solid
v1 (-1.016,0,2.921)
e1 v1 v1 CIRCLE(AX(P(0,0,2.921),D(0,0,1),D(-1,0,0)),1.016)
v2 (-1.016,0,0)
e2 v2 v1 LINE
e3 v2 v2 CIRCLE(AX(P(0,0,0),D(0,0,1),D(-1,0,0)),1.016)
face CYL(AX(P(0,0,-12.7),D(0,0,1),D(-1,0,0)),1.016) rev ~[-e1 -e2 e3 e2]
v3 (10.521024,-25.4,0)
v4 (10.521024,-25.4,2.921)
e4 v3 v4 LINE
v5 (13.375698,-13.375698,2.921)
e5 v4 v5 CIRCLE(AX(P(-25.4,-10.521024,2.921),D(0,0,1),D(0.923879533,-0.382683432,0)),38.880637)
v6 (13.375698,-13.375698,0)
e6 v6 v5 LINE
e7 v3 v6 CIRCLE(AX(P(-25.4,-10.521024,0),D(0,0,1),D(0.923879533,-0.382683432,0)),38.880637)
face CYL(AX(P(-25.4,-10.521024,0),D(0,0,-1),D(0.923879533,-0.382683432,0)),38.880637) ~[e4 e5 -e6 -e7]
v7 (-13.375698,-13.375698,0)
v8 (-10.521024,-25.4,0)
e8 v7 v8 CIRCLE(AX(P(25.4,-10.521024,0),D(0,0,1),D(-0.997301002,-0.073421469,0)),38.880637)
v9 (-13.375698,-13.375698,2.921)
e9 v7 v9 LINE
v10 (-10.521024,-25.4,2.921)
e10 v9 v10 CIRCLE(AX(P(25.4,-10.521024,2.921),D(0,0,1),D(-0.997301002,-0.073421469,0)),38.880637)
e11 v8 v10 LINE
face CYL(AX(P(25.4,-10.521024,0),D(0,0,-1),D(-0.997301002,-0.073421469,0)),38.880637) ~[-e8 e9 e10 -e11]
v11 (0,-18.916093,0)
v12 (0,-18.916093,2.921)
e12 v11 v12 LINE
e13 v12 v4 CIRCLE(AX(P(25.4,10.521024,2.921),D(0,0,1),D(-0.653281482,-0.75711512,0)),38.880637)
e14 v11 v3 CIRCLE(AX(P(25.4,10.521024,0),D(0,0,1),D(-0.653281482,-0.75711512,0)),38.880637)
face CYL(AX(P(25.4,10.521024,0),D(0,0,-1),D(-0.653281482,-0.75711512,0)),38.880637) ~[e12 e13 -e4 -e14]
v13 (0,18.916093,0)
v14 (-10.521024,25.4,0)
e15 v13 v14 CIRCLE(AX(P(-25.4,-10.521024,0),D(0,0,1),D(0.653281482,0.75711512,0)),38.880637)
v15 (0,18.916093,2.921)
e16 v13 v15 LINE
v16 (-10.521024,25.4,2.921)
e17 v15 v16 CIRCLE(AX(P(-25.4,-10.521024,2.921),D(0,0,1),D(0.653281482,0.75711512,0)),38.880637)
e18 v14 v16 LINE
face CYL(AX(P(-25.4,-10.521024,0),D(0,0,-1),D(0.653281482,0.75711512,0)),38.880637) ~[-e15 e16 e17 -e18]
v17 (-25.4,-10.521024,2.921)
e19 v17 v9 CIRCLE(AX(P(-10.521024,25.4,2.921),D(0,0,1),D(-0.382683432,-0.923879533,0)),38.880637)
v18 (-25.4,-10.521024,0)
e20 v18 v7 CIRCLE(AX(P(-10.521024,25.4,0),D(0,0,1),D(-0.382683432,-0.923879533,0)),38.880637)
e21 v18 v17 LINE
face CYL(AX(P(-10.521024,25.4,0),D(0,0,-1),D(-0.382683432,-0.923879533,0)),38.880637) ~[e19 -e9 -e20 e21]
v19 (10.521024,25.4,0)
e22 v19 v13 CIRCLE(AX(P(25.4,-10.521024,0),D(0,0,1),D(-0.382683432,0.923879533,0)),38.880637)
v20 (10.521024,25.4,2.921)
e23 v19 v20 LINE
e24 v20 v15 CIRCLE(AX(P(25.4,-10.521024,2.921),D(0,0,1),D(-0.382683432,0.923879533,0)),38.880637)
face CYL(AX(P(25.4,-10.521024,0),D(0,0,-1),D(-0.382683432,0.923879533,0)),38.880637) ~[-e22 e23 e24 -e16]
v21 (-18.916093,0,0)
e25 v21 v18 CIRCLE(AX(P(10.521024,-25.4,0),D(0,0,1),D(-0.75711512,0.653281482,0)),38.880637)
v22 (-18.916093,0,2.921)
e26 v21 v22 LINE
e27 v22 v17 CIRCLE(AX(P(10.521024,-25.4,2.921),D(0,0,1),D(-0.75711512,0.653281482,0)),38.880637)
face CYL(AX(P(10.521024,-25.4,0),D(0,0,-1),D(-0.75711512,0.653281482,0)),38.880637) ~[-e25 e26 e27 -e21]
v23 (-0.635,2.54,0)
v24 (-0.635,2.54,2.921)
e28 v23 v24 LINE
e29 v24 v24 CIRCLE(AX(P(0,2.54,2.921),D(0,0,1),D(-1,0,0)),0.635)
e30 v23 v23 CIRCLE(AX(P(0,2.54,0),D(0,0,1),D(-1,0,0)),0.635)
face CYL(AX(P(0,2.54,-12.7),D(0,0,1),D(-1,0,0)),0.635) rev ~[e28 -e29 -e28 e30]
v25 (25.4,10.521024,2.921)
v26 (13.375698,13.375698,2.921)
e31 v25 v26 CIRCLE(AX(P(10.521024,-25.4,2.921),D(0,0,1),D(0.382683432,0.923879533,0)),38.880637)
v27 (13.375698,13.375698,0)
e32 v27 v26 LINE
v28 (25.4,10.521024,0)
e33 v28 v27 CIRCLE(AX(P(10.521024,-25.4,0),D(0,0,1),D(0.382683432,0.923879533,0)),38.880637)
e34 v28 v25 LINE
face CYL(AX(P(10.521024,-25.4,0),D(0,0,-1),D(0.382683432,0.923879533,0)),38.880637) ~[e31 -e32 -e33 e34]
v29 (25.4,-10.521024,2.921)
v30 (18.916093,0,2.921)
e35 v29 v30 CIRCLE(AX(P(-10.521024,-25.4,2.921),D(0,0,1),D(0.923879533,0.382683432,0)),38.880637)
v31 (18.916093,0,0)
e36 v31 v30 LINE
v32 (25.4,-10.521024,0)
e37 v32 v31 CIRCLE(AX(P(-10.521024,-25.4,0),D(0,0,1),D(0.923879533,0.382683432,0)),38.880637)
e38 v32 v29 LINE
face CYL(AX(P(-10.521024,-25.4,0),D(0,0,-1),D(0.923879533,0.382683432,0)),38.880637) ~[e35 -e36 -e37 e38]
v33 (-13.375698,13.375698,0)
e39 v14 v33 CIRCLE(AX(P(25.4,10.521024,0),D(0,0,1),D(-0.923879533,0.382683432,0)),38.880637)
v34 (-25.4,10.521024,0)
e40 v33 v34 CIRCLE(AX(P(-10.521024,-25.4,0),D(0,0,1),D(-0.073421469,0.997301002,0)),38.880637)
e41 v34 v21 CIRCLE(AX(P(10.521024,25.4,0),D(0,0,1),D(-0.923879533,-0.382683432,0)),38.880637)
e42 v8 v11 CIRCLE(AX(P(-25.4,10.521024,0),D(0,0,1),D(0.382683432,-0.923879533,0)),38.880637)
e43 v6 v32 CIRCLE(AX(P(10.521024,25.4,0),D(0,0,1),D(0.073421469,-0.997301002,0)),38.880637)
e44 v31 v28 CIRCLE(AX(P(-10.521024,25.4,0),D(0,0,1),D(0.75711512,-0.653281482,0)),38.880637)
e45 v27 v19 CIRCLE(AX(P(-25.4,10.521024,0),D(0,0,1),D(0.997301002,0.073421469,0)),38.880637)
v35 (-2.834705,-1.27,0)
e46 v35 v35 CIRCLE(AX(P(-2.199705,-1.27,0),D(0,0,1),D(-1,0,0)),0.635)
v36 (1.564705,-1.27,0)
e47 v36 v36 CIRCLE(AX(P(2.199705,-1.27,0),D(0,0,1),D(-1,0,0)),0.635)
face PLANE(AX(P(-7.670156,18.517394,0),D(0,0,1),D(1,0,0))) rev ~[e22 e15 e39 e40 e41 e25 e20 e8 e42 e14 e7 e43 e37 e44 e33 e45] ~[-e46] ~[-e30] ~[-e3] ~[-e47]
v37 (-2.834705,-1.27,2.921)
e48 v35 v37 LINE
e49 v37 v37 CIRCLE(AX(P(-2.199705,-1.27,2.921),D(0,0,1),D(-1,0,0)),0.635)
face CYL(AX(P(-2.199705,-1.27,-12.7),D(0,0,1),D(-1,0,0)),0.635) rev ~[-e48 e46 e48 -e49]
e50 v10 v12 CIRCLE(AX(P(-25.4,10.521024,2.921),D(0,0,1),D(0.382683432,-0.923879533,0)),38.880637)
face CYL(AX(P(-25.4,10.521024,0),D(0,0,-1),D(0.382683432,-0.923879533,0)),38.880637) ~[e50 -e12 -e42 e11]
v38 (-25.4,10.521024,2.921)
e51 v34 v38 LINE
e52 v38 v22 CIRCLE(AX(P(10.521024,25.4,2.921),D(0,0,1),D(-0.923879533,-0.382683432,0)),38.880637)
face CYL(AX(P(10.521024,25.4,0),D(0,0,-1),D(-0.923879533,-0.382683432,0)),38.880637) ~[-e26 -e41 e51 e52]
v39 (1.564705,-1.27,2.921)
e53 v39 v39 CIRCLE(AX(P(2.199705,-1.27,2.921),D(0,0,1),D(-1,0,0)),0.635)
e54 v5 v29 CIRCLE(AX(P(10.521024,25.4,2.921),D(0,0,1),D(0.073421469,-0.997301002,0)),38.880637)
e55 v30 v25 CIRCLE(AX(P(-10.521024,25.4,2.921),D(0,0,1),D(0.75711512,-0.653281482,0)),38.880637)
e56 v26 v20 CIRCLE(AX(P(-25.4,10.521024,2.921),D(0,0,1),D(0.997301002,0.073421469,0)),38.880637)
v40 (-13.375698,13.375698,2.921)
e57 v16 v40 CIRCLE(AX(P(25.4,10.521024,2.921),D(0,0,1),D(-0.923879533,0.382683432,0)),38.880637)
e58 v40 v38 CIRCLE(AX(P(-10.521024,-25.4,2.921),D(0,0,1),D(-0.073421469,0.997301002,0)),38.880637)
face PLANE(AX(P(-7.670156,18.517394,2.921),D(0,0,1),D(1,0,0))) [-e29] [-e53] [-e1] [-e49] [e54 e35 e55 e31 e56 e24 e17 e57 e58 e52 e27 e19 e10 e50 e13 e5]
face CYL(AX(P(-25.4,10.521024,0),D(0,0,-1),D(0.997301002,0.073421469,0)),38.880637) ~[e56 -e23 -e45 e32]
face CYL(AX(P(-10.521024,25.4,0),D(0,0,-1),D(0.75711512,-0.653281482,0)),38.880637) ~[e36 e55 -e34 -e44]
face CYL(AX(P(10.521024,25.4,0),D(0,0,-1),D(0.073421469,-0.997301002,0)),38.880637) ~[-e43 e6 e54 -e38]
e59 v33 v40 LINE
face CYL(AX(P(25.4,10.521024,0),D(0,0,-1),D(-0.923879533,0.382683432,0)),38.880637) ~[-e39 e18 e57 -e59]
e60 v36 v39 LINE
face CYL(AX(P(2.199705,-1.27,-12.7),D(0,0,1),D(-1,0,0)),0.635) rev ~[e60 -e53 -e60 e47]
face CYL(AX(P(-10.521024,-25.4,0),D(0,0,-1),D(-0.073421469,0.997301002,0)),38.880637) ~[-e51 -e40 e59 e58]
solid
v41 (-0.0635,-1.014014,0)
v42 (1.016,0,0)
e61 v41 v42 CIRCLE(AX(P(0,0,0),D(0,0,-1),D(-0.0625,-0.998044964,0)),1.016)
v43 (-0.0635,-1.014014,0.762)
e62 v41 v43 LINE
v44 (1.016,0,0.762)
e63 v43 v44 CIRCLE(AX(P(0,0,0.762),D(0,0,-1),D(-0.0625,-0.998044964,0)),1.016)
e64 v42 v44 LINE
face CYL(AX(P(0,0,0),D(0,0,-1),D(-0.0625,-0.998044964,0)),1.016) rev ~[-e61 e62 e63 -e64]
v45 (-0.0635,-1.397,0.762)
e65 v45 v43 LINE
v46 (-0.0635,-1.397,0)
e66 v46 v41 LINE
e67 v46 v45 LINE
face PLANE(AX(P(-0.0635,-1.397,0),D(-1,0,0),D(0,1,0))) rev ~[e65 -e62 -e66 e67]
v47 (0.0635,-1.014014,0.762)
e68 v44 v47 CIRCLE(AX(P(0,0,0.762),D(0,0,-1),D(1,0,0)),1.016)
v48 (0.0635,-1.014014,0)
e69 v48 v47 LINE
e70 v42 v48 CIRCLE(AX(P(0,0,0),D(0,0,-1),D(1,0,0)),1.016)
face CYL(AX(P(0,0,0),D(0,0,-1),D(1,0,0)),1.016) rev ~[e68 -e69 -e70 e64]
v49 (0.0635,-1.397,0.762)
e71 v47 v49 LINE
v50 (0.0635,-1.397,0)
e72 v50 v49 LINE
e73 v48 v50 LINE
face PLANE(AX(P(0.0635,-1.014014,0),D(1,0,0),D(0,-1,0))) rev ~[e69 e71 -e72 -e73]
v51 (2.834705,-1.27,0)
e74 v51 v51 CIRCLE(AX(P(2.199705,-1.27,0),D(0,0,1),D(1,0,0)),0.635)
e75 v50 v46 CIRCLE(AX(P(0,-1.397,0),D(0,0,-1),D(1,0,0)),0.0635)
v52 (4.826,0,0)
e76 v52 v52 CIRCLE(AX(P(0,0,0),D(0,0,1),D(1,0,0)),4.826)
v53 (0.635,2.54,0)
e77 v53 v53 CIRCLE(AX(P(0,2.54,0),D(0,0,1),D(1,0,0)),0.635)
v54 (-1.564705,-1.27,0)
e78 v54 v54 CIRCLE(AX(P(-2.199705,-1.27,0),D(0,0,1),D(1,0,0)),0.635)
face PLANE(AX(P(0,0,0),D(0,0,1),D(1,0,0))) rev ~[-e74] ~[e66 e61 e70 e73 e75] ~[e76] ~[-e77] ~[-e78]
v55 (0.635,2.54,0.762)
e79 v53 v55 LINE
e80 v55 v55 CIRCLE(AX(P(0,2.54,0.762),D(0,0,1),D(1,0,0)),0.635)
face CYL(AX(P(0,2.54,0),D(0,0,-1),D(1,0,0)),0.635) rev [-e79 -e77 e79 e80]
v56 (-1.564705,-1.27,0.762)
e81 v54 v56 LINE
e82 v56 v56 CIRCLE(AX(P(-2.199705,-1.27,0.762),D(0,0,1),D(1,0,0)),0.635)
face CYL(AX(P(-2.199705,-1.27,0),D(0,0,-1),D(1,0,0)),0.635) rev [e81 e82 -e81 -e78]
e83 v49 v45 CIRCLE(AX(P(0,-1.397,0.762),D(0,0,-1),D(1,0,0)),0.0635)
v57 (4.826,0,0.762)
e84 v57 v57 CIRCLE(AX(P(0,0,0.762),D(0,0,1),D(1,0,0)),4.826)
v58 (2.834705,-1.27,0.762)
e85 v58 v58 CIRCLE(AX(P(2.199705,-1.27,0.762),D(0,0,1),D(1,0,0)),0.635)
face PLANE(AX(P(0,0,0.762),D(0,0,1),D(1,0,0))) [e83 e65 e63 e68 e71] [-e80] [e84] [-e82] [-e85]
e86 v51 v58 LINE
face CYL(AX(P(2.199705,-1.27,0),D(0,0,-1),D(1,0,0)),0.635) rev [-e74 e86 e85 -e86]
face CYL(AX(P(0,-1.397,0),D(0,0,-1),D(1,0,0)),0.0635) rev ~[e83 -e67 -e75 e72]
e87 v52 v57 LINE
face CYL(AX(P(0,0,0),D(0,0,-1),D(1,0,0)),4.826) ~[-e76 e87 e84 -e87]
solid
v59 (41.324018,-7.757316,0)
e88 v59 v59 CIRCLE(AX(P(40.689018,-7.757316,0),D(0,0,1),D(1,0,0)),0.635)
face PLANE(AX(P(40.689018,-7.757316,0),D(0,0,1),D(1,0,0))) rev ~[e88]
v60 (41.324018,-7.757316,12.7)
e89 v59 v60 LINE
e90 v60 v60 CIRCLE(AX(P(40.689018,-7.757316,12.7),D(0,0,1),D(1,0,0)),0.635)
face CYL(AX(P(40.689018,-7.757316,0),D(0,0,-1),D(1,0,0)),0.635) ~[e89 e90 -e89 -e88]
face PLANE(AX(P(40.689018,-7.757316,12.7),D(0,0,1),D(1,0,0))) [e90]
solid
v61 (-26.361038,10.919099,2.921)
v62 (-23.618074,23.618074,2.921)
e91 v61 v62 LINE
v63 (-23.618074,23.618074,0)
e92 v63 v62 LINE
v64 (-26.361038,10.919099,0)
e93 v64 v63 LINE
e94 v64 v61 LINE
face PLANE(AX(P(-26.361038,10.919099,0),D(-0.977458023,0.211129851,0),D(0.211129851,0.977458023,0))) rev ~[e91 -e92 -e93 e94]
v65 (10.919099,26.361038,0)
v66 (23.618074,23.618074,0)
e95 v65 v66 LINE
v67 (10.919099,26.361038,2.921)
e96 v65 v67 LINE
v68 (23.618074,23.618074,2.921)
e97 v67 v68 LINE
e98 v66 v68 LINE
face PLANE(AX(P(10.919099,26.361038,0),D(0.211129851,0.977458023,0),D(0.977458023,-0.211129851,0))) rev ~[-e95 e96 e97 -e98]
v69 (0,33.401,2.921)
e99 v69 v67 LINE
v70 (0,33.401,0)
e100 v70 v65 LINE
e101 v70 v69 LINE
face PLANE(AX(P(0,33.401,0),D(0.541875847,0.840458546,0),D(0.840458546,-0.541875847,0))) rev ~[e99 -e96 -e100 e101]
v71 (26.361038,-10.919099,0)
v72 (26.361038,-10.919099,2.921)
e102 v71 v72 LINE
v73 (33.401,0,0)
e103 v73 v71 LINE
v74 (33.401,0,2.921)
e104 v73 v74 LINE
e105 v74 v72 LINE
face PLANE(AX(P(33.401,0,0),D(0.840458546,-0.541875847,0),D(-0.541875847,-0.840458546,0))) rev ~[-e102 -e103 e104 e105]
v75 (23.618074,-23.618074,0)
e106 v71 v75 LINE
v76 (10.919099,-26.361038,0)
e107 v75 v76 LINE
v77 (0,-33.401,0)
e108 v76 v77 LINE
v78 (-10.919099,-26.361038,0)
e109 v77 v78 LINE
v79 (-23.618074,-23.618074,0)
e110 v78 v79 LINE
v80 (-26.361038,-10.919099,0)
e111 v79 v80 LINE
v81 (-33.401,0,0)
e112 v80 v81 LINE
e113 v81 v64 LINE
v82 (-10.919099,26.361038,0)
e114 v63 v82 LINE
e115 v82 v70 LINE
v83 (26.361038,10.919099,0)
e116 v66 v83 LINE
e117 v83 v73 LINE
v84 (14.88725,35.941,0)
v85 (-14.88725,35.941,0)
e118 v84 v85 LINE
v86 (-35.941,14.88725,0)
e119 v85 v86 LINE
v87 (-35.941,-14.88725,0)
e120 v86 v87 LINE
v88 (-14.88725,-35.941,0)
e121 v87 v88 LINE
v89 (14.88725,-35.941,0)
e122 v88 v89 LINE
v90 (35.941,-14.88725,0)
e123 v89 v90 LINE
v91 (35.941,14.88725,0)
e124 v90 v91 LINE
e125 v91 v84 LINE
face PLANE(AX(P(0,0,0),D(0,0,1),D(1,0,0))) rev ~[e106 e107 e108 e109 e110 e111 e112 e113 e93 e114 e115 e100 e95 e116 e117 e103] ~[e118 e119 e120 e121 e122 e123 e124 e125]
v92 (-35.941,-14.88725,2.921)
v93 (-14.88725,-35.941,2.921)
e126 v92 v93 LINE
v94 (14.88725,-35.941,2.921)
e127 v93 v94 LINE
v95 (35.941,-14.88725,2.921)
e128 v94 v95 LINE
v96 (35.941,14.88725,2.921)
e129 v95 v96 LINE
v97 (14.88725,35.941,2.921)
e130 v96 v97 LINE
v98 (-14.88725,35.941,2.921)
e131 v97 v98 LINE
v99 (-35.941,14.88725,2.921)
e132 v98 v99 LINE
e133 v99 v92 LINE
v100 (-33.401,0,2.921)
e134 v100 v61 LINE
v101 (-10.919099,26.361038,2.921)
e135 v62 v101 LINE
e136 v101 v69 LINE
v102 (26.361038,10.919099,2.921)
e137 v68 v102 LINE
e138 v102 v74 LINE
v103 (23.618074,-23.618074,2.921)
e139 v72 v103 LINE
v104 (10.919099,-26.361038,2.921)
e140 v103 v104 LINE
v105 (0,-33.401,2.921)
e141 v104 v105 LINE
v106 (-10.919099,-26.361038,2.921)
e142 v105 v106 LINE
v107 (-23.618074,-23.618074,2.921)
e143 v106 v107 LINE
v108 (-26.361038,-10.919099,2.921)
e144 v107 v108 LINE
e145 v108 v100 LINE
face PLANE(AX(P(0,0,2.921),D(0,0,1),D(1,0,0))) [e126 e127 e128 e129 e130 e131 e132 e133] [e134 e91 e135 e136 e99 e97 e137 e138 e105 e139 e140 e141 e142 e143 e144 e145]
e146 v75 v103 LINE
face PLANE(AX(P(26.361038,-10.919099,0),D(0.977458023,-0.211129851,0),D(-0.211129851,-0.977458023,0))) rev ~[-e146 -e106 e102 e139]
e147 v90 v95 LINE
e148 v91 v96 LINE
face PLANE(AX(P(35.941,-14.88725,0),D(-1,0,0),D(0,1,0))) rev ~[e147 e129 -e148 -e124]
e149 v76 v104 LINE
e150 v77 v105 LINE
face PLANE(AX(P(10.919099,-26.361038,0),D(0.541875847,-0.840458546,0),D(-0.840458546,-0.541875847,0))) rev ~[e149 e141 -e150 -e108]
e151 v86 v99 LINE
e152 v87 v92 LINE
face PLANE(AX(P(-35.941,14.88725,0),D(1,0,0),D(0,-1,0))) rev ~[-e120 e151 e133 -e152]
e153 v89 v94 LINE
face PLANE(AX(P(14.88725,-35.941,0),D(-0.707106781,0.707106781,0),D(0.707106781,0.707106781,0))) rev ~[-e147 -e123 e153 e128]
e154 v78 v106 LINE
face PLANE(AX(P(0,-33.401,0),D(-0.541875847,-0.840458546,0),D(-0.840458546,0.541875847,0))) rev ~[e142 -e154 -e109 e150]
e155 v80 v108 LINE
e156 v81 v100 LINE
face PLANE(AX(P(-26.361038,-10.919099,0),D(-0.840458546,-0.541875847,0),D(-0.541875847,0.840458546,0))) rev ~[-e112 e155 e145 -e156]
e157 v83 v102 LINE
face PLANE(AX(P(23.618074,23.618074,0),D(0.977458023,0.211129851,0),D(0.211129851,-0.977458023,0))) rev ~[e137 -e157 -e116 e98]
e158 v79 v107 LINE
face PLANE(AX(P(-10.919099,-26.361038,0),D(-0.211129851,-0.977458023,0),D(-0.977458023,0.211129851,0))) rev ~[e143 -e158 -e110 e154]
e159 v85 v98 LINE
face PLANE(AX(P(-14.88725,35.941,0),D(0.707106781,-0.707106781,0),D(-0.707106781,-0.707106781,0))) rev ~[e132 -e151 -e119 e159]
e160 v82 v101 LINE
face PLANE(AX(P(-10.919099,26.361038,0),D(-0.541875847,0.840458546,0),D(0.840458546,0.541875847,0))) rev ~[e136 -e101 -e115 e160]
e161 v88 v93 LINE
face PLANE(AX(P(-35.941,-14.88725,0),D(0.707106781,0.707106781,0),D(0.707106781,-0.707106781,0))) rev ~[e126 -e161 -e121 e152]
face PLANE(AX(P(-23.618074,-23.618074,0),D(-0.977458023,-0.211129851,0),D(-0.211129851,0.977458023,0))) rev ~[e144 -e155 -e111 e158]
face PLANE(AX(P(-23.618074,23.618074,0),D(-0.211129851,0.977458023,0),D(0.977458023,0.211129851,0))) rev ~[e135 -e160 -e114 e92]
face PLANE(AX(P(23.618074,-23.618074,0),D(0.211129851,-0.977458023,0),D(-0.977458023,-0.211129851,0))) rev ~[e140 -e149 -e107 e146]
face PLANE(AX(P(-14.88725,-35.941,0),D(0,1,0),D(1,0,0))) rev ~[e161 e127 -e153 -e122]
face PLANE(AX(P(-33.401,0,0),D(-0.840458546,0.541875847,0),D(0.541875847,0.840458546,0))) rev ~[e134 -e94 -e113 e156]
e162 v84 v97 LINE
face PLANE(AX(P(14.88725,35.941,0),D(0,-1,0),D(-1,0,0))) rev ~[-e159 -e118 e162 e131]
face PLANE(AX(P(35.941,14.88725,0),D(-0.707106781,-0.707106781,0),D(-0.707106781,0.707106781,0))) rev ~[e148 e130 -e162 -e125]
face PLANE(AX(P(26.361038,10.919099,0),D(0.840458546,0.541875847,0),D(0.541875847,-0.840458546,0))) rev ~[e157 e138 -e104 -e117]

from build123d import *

# Parameters (mm, degrees)
F1_DEPTH = 2.921
F2_D     = 2.032
F2_DEPTH = 12.7
F2_TIP   = 0.6104743889
F3_D     = 1.27
F3_DEPTH = 12.7
F3_TIP   = 0.3815464931
F5_DEPTH = 2.921
F6_R     = 4.826
F6_R_2   = 0.635
F7_DEPTH = 0.762
F8_R     = 0.635
F9_DEPTH = 12.7


with BuildPart() as f1:
    # F0 (on Top) → F1 (new body)
    with BuildSketch(Plane.XY):
        with BuildLine():
            ThreePointArc((-5.446083021, 13.1480074912), (-2.8705353277, 16.1713104582), (0, 18.9160934521))
            ThreePointArc((0, 18.9160934521), (-5.0012444453, 22.5787441587), (-10.5210244843, 25.4))
            ThreePointArc((-10.5210244843, 25.4), (-12.4291692436, 19.5019969669), (-13.3756979535, 13.3756979535))
            ThreePointArc((-13.3756979535, 13.3756979535), (-9.4050682898, 13.4646182815), (-5.446083021, 13.1480074912))
        make_face()
        with BuildLine():
            ThreePointArc((13.1480074912, -5.446083021), (13.4646182815, -9.4050682898), (13.3756979535, -13.3756979535))
            ThreePointArc((13.3756979535, -13.3756979535), (19.5019969669, -12.4291692436), (25.4, -10.5210244843))
            ThreePointArc((25.4, -10.5210244843), (22.5787441587, -5.0012444453), (18.9160934521, 0))
            ThreePointArc((18.9160934521, 0), (16.1713104582, -2.8705353277), (13.1480074912, -5.446083021))
        make_face()
        with BuildLine():
            ThreePointArc((5.446083021, -13.1480074912), (9.4050682898, -13.4646182815), (13.3756979535, -13.3756979535))
            ThreePointArc((13.3756979535, -13.3756979535), (13.4646182815, -9.4050682898), (13.1480074912, -5.446083021))
            ThreePointArc((13.1480074912, -5.446083021), (10.8820575886, -7.0593898615), (8.5065612285, -8.5065612285))
            ThreePointArc((8.5065612285, -8.5065612285), (7.0593898615, -10.8820575886), (5.446083021, -13.1480074912))
        make_face()
        with BuildLine():
            ThreePointArc((-5.446083021, -13.1480074912), (-2.8705353277, -16.1713104582), (0, -18.9160934521))
            ThreePointArc((0, -18.9160934521), (2.8705353277, -16.1713104582), (5.446083021, -13.1480074912))
            ThreePointArc((5.446083021, -13.1480074912), (2.7030342721, -12.6865191563), (0, -12.0300942585))
            ThreePointArc((0, -12.0300942585), (-2.7030342721, -12.6865191563), (-5.446083021, -13.1480074912))
        make_face()
        with BuildLine():
            ThreePointArc((-10.5210244843, -25.4), (-5.0012444453, -22.5787441587), (0, -18.9160934521))
            ThreePointArc((0, -18.9160934521), (-2.8705353277, -16.1713104582), (-5.446083021, -13.1480074912))
            ThreePointArc((-5.446083021, -13.1480074912), (-9.4050682898, -13.4646182815), (-13.3756979535, -13.3756979535))
            ThreePointArc((-13.3756979535, -13.3756979535), (-12.4291692436, -19.5019969669), (-10.5210244843, -25.4))
        make_face()
        with BuildLine():
            ThreePointArc((-13.3756979535, -13.3756979535), (-9.4050682898, -13.4646182815), (-5.446083021, -13.1480074912))
            ThreePointArc((-5.446083021, -13.1480074912), (-7.0593898615, -10.8820575886), (-8.5065612285, -8.5065612285))
            ThreePointArc((-8.5065612285, -8.5065612285), (-10.8820575886, -7.0593898615), (-13.1480074912, -5.446083021))
            ThreePointArc((-13.1480074912, -5.446083021), (-13.4646182815, -9.4050682898), (-13.3756979535, -13.3756979535))
        make_face()
        with BuildLine():
            ThreePointArc((-25.4, -10.5210244843), (-19.5019969669, -12.4291692436), (-13.3756979535, -13.3756979535))
            ThreePointArc((-13.3756979535, -13.3756979535), (-13.4646182815, -9.4050682898), (-13.1480074912, -5.446083021))
            ThreePointArc((-13.1480074912, -5.446083021), (-16.1713104582, -2.8705353277), (-18.9160934521, 0))
            ThreePointArc((-18.9160934521, 0), (-22.5787441587, -5.0012444453), (-25.4, -10.5210244843))
        make_face()
        with BuildLine():
            ThreePointArc((-13.1480074912, -5.446083021), (-12.6865191563, -2.7030342721), (-12.0300942585, 0))
            ThreePointArc((-12.0300942585, 0), (-12.6865191563, 2.7030342721), (-13.1480074912, 5.446083021))
            ThreePointArc((-13.1480074912, 5.446083021), (-16.1713104582, 2.8705353277), (-18.9160934521, 0))
            ThreePointArc((-18.9160934521, 0), (-16.1713104582, -2.8705353277), (-13.1480074912, -5.446083021))
        make_face()
        with BuildLine():
            ThreePointArc((-18.9160934521, 0), (-16.1713104582, 2.8705353277), (-13.1480074912, 5.446083021))
            ThreePointArc((-13.1480074912, 5.446083021), (-13.4646182815, 9.4050682898), (-13.3756979535, 13.3756979535))
            ThreePointArc((-13.3756979535, 13.3756979535), (-19.5019969669, 12.4291692436), (-25.4, 10.5210244843))
            ThreePointArc((-25.4, 10.5210244843), (-22.5787441587, 5.0012444453), (-18.9160934521, 0))
        make_face()
        with BuildLine():
            ThreePointArc((-13.3756979535, 13.3756979535), (-13.4646182815, 9.4050682898), (-13.1480074912, 5.446083021))
            ThreePointArc((-13.1480074912, 5.446083021), (-10.8820575886, 7.0593898615), (-8.5065612285, 8.5065612285))
            ThreePointArc((-8.5065612285, 8.5065612285), (-7.0593898615, 10.8820575886), (-5.446083021, 13.1480074912))
            ThreePointArc((-5.446083021, 13.1480074912), (-9.4050682898, 13.4646182815), (-13.3756979535, 13.3756979535))
        make_face()
        with BuildLine():
            ThreePointArc((0, -18.9160934521), (5.0012444453, -22.5787441587), (10.5210244843, -25.4))
            ThreePointArc((10.5210244843, -25.4), (12.4291692436, -19.5019969669), (13.3756979535, -13.3756979535))
            ThreePointArc((13.3756979535, -13.3756979535), (9.4050682898, -13.4646182815), (5.446083021, -13.1480074912))
            ThreePointArc((5.446083021, -13.1480074912), (2.8705353277, -16.1713104582), (0, -18.9160934521))
        make_face()
        with BuildLine():
            ThreePointArc((0, 12.0300942585), (2.7030342721, 12.6865191563), (5.446083021, 13.1480074912))
            ThreePointArc((5.446083021, 13.1480074912), (2.8705353277, 16.1713104582), (0, 18.9160934521))
            ThreePointArc((0, 18.9160934521), (-2.8705353277, 16.1713104582), (-5.446083021, 13.1480074912))
            ThreePointArc((-5.446083021, 13.1480074912), (-2.7030342721, 12.6865191563), (0, 12.0300942585))
        make_face()
        with BuildLine():
            ThreePointArc((0, 18.9160934521), (2.8705353277, 16.1713104582), (5.446083021, 13.1480074912))
            ThreePointArc((5.446083021, 13.1480074912), (9.4050682898, 13.4646182815), (13.3756979535, 13.3756979535))
            ThreePointArc((13.3756979535, 13.3756979535), (12.4291692436, 19.5019969669), (10.5210244843, 25.4))
            ThreePointArc((10.5210244843, 25.4), (5.0012444453, 22.5787441587), (0, 18.9160934521))
        make_face()
        with BuildLine():
            ThreePointArc((5.446083021, 13.1480074912), (7.0593898615, 10.8820575886), (8.5065612285, 8.5065612285))
            ThreePointArc((8.5065612285, 8.5065612285), (10.8820575886, 7.0593898615), (13.1480074912, 5.446083021))
            ThreePointArc((13.1480074912, 5.446083021), (13.4646182815, 9.4050682898), (13.3756979535, 13.3756979535))
            ThreePointArc((13.3756979535, 13.3756979535), (9.4050682898, 13.4646182815), (5.446083021, 13.1480074912))
        make_face()
        with BuildLine():
            ThreePointArc((13.1480074912, 5.446083021), (16.1713104582, 2.8705353277), (18.9160934521, 0))
            ThreePointArc((18.9160934521, 0), (22.5787441587, 5.0012444453), (25.4, 10.5210244843))
            ThreePointArc((25.4, 10.5210244843), (19.5019969669, 12.4291692436), (13.3756979535, 13.3756979535))
            ThreePointArc((13.3756979535, 13.3756979535), (13.4646182815, 9.4050682898), (13.1480074912, 5.446083021))
        make_face()
        with BuildLine():
            ThreePointArc((12.0300942585, 0), (12.6865191563, -2.7030342721), (13.1480074912, -5.446083021))
            ThreePointArc((13.1480074912, -5.446083021), (16.1713104582, -2.8705353277), (18.9160934521, 0))
            ThreePointArc((18.9160934521, 0), (16.1713104582, 2.8705353277), (13.1480074912, 5.446083021))
            ThreePointArc((13.1480074912, 5.446083021), (12.6865191563, 2.7030342721), (12.0300942585, 0))
        make_face()
        with BuildLine():
            ThreePointArc((8.5065612285, 8.5065612285), (10.5210244843, 4.3579510314), (12.0300942585, 0))
            ThreePointArc((12.0300942585, 0), (12.6865191563, 2.7030342721), (13.1480074912, 5.446083021))
            ThreePointArc((13.1480074912, 5.446083021), (10.8820575886, 7.0593898615), (8.5065612285, 8.5065612285))
        make_face()
        with BuildLine():
            ThreePointArc((8.5065612285, -8.5065612285), (10.8820575886, -7.0593898615), (13.1480074912, -5.446083021))
            ThreePointArc((13.1480074912, -5.446083021), (12.6865191563, -2.7030342721), (12.0300942585, 0))
            ThreePointArc((12.0300942585, 0), (10.5210244843, -4.3579510314), (8.5065612285, -8.5065612285))
        make_face()
        with BuildLine():
            ThreePointArc((0, -12.0300942585), (2.7030342721, -12.6865191563), (5.446083021, -13.1480074912))
            ThreePointArc((5.446083021, -13.1480074912), (7.0593898615, -10.8820575886), (8.5065612285, -8.5065612285))
            ThreePointArc((8.5065612285, -8.5065612285), (4.3579510314, -10.5210244843), (0, -12.0300942585))
        make_face()
        with BuildLine():
            ThreePointArc((-8.5065612285, -8.5065612285), (-7.0593898615, -10.8820575886), (-5.446083021, -13.1480074912))
            ThreePointArc((-5.446083021, -13.1480074912), (-2.7030342721, -12.6865191563), (0, -12.0300942585))
            ThreePointArc((0, -12.0300942585), (-4.3579510314, -10.5210244843), (-8.5065612285, -8.5065612285))
        make_face()
        with BuildLine():
            ThreePointArc((-13.1480074912, -5.446083021), (-10.8820575886, -7.0593898615), (-8.5065612285, -8.5065612285))
            ThreePointArc((-8.5065612285, -8.5065612285), (-10.5210244843, -4.3579510314), (-12.0300942585, 0))
            ThreePointArc((-12.0300942585, 0), (-12.6865191563, -2.7030342721), (-13.1480074912, -5.446083021))
        make_face()
        with BuildLine():
            ThreePointArc((-13.1480074912, 5.446083021), (-12.6865191563, 2.7030342721), (-12.0300942585, 0))
            ThreePointArc((-12.0300942585, 0), (-10.5210244843, 4.3579510314), (-8.5065612285, 8.5065612285))
            ThreePointArc((-8.5065612285, 8.5065612285), (-10.8820575886, 7.0593898615), (-13.1480074912, 5.446083021))
        make_face()
        with BuildLine():
            ThreePointArc((-8.5065612285, 8.5065612285), (-4.3579510314, 10.5210244843), (0, 12.0300942585))
            ThreePointArc((0, 12.0300942585), (-2.7030342721, 12.6865191563), (-5.446083021, 13.1480074912))
            ThreePointArc((-5.446083021, 13.1480074912), (-7.0593898615, 10.8820575886), (-8.5065612285, 8.5065612285))
        make_face()
        with BuildLine():
            ThreePointArc((0, 12.0300942585), (4.3579510314, 10.5210244843), (8.5065612285, 8.5065612285))
            ThreePointArc((8.5065612285, 8.5065612285), (7.0593898615, 10.8820575886), (5.446083021, 13.1480074912))
            ThreePointArc((5.446083021, 13.1480074912), (2.7030342721, 12.6865191563), (0, 12.0300942585))
        make_face()
        with BuildLine():
            ThreePointArc((8.5065612285, -8.5065612285), (10.5210244843, -4.3579510314), (12.0300942585, 0))
            ThreePointArc((12.0300942585, 0), (10.5210244843, 4.3579510314), (8.5065612285, 8.5065612285))
            ThreePointArc((8.5065612285, 8.5065612285), (4.3579510314, 10.5210244843), (0, 12.0300942585))
            ThreePointArc((0, 12.0300942585), (-4.3579510314, 10.5210244843), (-8.5065612285, 8.5065612285))
            ThreePointArc((-8.5065612285, 8.5065612285), (-10.5210244843, 4.3579510314), (-12.0300942585, 0))
            ThreePointArc((-12.0300942585, 0), (-10.5210244843, -4.3579510314), (-8.5065612285, -8.5065612285))
            ThreePointArc((-8.5065612285, -8.5065612285), (-4.3579510314, -10.5210244843), (0, -12.0300942585))
            ThreePointArc((0, -12.0300942585), (4.3579510314, -10.5210244843), (8.5065612285, -8.5065612285))
        make_face()
    extrude(amount=F1_DEPTH)

    # F2
    with Locations(Plane(origin=(0, 0, 0), x_dir=(1, 0, 0), z_dir=(0, 0, -1))):
        with Locations((0, 0)):
            Hole(F2_D / 2, depth=F2_DEPTH)
            with Locations((0, 0, -(F2_DEPTH + F2_TIP / 2))):  # 118° drill point
                Cone(0, F2_D / 2, F2_TIP, mode=Mode.SUBTRACT)

    # F3
    with Locations(Plane(origin=(0, 0, 0), x_dir=(1, 0, 0), z_dir=(0, 0, -1))):
        with Locations((2.1997045256, 1.27), (-2.1997045256, 1.27), (0, -2.54)):
            Hole(F3_D / 2, depth=F3_DEPTH)
            with Locations((0, 0, -(F3_DEPTH + F3_TIP / 2))):  # 118° drill point
                Cone(0, F3_D / 2, F3_TIP, mode=Mode.SUBTRACT)


with BuildPart() as f5:
    # F4 (on Top) → F5 (new body)
    with BuildSketch(Plane.XY):
        Polygon((35.941, -14.8872496453), (35.941, 14.8872496453), (14.8872496453, 35.941), (-14.8872496453, 35.941), (-35.941, 14.8872496453), (-35.941, -14.8872496453), (-14.8872496453, -35.941), (14.8872496453, -35.941), align=None)
        Polygon((23.6180735984, 23.6180735984), (33.401, 13.8351471968), (33.401, 0), (33.401, -13.8351471968), (23.6180735984, -23.6180735984), (13.8351471968, -33.401), (0, -33.401), (-13.8351471968, -33.401), (-23.6180735984, -23.6180735984), (-33.401, -13.8351471968), (-33.401, 0), (-33.401, 13.8351471968), (-23.6180735984, 23.6180735984), (-13.8351471968, 33.401), (0, 33.401), (13.8351471968, 33.401), align=None, mode=Mode.SUBTRACT)
        Polygon((-10.9190994422, 26.3610379623), (0, 33.401), (-13.8351471968, 33.401), (-23.6180735984, 23.6180735984), align=None)
        Polygon((10.9190994422, 26.3610379623), (23.6180735984, 23.6180735984), (13.8351471968, 33.401), (0, 33.401), align=None)
        Polygon((33.401, 0), (33.401, 13.8351471968), (23.6180735984, 23.6180735984), (26.3610379623, 10.9190994422), align=None)
        Polygon((33.401, -13.8351471968), (33.401, 0), (26.3610379623, -10.9190994422), (23.6180735984, -23.6180735984), align=None)
        Polygon((-26.3610379623, 10.9190994422), (-23.6180735984, 23.6180735984), (-33.401, 13.8351471968), (-33.401, 0), align=None)
        Polygon((-13.8351471968, -33.401), (0, -33.401), (-10.9190994422, -26.3610379623), (-23.6180735984, -23.6180735984), align=None)
        Polygon((-33.401, -13.8351471968), (-23.6180735984, -23.6180735984), (-26.3610379623, -10.9190994422), (-33.401, 0), align=None)
        Polygon((13.8351471968, -33.401), (23.6180735984, -23.6180735984), (10.9190994422, -26.3610379623), (0, -33.401), align=None)
    extrude(amount=F5_DEPTH)


with BuildPart() as f7:
    # F6 (on Top) → F7 (new body)
    with BuildSketch(Plane.XY):
        Circle(F6_R)
        with Locations((-2.1997045256, -1.27)):
            Circle(F6_R_2, mode=Mode.SUBTRACT)
        with Locations((2.1997045256, -1.27)):
            Circle(F6_R_2, mode=Mode.SUBTRACT)
        with BuildLine():
            ThreePointArc((-0.0635, -1.0140136833), (-0.695607648, 0.7405308906), (1.016, 0))
            ThreePointArc((1.016, 0), (0.7405308906, -0.695607648), (0.0635, -1.0140136833))
            Line((0.0635, -1.0140136833), (0.0635, -1.397))
            ThreePointArc((0.0635, -1.397), (0, -1.4605), (-0.0635, -1.397))
            Line((-0.0635, -1.397), (-0.0635, -1.0140136833))
        make_face(mode=Mode.SUBTRACT)
        with Locations((0, 2.54)):
            Circle(F6_R_2, mode=Mode.SUBTRACT)
    extrude(amount=F7_DEPTH)


with BuildPart() as f9:
    # F8 (on Top) → F9 (new body)
    with BuildSketch(Plane.XY):
        with Locations((40.6890176237, -7.7573158778)):
            Circle(F8_R)
    extrude(amount=F9_DEPTH)


solid = Compound([f1.part, f5.part, f7.part, f9.part])
